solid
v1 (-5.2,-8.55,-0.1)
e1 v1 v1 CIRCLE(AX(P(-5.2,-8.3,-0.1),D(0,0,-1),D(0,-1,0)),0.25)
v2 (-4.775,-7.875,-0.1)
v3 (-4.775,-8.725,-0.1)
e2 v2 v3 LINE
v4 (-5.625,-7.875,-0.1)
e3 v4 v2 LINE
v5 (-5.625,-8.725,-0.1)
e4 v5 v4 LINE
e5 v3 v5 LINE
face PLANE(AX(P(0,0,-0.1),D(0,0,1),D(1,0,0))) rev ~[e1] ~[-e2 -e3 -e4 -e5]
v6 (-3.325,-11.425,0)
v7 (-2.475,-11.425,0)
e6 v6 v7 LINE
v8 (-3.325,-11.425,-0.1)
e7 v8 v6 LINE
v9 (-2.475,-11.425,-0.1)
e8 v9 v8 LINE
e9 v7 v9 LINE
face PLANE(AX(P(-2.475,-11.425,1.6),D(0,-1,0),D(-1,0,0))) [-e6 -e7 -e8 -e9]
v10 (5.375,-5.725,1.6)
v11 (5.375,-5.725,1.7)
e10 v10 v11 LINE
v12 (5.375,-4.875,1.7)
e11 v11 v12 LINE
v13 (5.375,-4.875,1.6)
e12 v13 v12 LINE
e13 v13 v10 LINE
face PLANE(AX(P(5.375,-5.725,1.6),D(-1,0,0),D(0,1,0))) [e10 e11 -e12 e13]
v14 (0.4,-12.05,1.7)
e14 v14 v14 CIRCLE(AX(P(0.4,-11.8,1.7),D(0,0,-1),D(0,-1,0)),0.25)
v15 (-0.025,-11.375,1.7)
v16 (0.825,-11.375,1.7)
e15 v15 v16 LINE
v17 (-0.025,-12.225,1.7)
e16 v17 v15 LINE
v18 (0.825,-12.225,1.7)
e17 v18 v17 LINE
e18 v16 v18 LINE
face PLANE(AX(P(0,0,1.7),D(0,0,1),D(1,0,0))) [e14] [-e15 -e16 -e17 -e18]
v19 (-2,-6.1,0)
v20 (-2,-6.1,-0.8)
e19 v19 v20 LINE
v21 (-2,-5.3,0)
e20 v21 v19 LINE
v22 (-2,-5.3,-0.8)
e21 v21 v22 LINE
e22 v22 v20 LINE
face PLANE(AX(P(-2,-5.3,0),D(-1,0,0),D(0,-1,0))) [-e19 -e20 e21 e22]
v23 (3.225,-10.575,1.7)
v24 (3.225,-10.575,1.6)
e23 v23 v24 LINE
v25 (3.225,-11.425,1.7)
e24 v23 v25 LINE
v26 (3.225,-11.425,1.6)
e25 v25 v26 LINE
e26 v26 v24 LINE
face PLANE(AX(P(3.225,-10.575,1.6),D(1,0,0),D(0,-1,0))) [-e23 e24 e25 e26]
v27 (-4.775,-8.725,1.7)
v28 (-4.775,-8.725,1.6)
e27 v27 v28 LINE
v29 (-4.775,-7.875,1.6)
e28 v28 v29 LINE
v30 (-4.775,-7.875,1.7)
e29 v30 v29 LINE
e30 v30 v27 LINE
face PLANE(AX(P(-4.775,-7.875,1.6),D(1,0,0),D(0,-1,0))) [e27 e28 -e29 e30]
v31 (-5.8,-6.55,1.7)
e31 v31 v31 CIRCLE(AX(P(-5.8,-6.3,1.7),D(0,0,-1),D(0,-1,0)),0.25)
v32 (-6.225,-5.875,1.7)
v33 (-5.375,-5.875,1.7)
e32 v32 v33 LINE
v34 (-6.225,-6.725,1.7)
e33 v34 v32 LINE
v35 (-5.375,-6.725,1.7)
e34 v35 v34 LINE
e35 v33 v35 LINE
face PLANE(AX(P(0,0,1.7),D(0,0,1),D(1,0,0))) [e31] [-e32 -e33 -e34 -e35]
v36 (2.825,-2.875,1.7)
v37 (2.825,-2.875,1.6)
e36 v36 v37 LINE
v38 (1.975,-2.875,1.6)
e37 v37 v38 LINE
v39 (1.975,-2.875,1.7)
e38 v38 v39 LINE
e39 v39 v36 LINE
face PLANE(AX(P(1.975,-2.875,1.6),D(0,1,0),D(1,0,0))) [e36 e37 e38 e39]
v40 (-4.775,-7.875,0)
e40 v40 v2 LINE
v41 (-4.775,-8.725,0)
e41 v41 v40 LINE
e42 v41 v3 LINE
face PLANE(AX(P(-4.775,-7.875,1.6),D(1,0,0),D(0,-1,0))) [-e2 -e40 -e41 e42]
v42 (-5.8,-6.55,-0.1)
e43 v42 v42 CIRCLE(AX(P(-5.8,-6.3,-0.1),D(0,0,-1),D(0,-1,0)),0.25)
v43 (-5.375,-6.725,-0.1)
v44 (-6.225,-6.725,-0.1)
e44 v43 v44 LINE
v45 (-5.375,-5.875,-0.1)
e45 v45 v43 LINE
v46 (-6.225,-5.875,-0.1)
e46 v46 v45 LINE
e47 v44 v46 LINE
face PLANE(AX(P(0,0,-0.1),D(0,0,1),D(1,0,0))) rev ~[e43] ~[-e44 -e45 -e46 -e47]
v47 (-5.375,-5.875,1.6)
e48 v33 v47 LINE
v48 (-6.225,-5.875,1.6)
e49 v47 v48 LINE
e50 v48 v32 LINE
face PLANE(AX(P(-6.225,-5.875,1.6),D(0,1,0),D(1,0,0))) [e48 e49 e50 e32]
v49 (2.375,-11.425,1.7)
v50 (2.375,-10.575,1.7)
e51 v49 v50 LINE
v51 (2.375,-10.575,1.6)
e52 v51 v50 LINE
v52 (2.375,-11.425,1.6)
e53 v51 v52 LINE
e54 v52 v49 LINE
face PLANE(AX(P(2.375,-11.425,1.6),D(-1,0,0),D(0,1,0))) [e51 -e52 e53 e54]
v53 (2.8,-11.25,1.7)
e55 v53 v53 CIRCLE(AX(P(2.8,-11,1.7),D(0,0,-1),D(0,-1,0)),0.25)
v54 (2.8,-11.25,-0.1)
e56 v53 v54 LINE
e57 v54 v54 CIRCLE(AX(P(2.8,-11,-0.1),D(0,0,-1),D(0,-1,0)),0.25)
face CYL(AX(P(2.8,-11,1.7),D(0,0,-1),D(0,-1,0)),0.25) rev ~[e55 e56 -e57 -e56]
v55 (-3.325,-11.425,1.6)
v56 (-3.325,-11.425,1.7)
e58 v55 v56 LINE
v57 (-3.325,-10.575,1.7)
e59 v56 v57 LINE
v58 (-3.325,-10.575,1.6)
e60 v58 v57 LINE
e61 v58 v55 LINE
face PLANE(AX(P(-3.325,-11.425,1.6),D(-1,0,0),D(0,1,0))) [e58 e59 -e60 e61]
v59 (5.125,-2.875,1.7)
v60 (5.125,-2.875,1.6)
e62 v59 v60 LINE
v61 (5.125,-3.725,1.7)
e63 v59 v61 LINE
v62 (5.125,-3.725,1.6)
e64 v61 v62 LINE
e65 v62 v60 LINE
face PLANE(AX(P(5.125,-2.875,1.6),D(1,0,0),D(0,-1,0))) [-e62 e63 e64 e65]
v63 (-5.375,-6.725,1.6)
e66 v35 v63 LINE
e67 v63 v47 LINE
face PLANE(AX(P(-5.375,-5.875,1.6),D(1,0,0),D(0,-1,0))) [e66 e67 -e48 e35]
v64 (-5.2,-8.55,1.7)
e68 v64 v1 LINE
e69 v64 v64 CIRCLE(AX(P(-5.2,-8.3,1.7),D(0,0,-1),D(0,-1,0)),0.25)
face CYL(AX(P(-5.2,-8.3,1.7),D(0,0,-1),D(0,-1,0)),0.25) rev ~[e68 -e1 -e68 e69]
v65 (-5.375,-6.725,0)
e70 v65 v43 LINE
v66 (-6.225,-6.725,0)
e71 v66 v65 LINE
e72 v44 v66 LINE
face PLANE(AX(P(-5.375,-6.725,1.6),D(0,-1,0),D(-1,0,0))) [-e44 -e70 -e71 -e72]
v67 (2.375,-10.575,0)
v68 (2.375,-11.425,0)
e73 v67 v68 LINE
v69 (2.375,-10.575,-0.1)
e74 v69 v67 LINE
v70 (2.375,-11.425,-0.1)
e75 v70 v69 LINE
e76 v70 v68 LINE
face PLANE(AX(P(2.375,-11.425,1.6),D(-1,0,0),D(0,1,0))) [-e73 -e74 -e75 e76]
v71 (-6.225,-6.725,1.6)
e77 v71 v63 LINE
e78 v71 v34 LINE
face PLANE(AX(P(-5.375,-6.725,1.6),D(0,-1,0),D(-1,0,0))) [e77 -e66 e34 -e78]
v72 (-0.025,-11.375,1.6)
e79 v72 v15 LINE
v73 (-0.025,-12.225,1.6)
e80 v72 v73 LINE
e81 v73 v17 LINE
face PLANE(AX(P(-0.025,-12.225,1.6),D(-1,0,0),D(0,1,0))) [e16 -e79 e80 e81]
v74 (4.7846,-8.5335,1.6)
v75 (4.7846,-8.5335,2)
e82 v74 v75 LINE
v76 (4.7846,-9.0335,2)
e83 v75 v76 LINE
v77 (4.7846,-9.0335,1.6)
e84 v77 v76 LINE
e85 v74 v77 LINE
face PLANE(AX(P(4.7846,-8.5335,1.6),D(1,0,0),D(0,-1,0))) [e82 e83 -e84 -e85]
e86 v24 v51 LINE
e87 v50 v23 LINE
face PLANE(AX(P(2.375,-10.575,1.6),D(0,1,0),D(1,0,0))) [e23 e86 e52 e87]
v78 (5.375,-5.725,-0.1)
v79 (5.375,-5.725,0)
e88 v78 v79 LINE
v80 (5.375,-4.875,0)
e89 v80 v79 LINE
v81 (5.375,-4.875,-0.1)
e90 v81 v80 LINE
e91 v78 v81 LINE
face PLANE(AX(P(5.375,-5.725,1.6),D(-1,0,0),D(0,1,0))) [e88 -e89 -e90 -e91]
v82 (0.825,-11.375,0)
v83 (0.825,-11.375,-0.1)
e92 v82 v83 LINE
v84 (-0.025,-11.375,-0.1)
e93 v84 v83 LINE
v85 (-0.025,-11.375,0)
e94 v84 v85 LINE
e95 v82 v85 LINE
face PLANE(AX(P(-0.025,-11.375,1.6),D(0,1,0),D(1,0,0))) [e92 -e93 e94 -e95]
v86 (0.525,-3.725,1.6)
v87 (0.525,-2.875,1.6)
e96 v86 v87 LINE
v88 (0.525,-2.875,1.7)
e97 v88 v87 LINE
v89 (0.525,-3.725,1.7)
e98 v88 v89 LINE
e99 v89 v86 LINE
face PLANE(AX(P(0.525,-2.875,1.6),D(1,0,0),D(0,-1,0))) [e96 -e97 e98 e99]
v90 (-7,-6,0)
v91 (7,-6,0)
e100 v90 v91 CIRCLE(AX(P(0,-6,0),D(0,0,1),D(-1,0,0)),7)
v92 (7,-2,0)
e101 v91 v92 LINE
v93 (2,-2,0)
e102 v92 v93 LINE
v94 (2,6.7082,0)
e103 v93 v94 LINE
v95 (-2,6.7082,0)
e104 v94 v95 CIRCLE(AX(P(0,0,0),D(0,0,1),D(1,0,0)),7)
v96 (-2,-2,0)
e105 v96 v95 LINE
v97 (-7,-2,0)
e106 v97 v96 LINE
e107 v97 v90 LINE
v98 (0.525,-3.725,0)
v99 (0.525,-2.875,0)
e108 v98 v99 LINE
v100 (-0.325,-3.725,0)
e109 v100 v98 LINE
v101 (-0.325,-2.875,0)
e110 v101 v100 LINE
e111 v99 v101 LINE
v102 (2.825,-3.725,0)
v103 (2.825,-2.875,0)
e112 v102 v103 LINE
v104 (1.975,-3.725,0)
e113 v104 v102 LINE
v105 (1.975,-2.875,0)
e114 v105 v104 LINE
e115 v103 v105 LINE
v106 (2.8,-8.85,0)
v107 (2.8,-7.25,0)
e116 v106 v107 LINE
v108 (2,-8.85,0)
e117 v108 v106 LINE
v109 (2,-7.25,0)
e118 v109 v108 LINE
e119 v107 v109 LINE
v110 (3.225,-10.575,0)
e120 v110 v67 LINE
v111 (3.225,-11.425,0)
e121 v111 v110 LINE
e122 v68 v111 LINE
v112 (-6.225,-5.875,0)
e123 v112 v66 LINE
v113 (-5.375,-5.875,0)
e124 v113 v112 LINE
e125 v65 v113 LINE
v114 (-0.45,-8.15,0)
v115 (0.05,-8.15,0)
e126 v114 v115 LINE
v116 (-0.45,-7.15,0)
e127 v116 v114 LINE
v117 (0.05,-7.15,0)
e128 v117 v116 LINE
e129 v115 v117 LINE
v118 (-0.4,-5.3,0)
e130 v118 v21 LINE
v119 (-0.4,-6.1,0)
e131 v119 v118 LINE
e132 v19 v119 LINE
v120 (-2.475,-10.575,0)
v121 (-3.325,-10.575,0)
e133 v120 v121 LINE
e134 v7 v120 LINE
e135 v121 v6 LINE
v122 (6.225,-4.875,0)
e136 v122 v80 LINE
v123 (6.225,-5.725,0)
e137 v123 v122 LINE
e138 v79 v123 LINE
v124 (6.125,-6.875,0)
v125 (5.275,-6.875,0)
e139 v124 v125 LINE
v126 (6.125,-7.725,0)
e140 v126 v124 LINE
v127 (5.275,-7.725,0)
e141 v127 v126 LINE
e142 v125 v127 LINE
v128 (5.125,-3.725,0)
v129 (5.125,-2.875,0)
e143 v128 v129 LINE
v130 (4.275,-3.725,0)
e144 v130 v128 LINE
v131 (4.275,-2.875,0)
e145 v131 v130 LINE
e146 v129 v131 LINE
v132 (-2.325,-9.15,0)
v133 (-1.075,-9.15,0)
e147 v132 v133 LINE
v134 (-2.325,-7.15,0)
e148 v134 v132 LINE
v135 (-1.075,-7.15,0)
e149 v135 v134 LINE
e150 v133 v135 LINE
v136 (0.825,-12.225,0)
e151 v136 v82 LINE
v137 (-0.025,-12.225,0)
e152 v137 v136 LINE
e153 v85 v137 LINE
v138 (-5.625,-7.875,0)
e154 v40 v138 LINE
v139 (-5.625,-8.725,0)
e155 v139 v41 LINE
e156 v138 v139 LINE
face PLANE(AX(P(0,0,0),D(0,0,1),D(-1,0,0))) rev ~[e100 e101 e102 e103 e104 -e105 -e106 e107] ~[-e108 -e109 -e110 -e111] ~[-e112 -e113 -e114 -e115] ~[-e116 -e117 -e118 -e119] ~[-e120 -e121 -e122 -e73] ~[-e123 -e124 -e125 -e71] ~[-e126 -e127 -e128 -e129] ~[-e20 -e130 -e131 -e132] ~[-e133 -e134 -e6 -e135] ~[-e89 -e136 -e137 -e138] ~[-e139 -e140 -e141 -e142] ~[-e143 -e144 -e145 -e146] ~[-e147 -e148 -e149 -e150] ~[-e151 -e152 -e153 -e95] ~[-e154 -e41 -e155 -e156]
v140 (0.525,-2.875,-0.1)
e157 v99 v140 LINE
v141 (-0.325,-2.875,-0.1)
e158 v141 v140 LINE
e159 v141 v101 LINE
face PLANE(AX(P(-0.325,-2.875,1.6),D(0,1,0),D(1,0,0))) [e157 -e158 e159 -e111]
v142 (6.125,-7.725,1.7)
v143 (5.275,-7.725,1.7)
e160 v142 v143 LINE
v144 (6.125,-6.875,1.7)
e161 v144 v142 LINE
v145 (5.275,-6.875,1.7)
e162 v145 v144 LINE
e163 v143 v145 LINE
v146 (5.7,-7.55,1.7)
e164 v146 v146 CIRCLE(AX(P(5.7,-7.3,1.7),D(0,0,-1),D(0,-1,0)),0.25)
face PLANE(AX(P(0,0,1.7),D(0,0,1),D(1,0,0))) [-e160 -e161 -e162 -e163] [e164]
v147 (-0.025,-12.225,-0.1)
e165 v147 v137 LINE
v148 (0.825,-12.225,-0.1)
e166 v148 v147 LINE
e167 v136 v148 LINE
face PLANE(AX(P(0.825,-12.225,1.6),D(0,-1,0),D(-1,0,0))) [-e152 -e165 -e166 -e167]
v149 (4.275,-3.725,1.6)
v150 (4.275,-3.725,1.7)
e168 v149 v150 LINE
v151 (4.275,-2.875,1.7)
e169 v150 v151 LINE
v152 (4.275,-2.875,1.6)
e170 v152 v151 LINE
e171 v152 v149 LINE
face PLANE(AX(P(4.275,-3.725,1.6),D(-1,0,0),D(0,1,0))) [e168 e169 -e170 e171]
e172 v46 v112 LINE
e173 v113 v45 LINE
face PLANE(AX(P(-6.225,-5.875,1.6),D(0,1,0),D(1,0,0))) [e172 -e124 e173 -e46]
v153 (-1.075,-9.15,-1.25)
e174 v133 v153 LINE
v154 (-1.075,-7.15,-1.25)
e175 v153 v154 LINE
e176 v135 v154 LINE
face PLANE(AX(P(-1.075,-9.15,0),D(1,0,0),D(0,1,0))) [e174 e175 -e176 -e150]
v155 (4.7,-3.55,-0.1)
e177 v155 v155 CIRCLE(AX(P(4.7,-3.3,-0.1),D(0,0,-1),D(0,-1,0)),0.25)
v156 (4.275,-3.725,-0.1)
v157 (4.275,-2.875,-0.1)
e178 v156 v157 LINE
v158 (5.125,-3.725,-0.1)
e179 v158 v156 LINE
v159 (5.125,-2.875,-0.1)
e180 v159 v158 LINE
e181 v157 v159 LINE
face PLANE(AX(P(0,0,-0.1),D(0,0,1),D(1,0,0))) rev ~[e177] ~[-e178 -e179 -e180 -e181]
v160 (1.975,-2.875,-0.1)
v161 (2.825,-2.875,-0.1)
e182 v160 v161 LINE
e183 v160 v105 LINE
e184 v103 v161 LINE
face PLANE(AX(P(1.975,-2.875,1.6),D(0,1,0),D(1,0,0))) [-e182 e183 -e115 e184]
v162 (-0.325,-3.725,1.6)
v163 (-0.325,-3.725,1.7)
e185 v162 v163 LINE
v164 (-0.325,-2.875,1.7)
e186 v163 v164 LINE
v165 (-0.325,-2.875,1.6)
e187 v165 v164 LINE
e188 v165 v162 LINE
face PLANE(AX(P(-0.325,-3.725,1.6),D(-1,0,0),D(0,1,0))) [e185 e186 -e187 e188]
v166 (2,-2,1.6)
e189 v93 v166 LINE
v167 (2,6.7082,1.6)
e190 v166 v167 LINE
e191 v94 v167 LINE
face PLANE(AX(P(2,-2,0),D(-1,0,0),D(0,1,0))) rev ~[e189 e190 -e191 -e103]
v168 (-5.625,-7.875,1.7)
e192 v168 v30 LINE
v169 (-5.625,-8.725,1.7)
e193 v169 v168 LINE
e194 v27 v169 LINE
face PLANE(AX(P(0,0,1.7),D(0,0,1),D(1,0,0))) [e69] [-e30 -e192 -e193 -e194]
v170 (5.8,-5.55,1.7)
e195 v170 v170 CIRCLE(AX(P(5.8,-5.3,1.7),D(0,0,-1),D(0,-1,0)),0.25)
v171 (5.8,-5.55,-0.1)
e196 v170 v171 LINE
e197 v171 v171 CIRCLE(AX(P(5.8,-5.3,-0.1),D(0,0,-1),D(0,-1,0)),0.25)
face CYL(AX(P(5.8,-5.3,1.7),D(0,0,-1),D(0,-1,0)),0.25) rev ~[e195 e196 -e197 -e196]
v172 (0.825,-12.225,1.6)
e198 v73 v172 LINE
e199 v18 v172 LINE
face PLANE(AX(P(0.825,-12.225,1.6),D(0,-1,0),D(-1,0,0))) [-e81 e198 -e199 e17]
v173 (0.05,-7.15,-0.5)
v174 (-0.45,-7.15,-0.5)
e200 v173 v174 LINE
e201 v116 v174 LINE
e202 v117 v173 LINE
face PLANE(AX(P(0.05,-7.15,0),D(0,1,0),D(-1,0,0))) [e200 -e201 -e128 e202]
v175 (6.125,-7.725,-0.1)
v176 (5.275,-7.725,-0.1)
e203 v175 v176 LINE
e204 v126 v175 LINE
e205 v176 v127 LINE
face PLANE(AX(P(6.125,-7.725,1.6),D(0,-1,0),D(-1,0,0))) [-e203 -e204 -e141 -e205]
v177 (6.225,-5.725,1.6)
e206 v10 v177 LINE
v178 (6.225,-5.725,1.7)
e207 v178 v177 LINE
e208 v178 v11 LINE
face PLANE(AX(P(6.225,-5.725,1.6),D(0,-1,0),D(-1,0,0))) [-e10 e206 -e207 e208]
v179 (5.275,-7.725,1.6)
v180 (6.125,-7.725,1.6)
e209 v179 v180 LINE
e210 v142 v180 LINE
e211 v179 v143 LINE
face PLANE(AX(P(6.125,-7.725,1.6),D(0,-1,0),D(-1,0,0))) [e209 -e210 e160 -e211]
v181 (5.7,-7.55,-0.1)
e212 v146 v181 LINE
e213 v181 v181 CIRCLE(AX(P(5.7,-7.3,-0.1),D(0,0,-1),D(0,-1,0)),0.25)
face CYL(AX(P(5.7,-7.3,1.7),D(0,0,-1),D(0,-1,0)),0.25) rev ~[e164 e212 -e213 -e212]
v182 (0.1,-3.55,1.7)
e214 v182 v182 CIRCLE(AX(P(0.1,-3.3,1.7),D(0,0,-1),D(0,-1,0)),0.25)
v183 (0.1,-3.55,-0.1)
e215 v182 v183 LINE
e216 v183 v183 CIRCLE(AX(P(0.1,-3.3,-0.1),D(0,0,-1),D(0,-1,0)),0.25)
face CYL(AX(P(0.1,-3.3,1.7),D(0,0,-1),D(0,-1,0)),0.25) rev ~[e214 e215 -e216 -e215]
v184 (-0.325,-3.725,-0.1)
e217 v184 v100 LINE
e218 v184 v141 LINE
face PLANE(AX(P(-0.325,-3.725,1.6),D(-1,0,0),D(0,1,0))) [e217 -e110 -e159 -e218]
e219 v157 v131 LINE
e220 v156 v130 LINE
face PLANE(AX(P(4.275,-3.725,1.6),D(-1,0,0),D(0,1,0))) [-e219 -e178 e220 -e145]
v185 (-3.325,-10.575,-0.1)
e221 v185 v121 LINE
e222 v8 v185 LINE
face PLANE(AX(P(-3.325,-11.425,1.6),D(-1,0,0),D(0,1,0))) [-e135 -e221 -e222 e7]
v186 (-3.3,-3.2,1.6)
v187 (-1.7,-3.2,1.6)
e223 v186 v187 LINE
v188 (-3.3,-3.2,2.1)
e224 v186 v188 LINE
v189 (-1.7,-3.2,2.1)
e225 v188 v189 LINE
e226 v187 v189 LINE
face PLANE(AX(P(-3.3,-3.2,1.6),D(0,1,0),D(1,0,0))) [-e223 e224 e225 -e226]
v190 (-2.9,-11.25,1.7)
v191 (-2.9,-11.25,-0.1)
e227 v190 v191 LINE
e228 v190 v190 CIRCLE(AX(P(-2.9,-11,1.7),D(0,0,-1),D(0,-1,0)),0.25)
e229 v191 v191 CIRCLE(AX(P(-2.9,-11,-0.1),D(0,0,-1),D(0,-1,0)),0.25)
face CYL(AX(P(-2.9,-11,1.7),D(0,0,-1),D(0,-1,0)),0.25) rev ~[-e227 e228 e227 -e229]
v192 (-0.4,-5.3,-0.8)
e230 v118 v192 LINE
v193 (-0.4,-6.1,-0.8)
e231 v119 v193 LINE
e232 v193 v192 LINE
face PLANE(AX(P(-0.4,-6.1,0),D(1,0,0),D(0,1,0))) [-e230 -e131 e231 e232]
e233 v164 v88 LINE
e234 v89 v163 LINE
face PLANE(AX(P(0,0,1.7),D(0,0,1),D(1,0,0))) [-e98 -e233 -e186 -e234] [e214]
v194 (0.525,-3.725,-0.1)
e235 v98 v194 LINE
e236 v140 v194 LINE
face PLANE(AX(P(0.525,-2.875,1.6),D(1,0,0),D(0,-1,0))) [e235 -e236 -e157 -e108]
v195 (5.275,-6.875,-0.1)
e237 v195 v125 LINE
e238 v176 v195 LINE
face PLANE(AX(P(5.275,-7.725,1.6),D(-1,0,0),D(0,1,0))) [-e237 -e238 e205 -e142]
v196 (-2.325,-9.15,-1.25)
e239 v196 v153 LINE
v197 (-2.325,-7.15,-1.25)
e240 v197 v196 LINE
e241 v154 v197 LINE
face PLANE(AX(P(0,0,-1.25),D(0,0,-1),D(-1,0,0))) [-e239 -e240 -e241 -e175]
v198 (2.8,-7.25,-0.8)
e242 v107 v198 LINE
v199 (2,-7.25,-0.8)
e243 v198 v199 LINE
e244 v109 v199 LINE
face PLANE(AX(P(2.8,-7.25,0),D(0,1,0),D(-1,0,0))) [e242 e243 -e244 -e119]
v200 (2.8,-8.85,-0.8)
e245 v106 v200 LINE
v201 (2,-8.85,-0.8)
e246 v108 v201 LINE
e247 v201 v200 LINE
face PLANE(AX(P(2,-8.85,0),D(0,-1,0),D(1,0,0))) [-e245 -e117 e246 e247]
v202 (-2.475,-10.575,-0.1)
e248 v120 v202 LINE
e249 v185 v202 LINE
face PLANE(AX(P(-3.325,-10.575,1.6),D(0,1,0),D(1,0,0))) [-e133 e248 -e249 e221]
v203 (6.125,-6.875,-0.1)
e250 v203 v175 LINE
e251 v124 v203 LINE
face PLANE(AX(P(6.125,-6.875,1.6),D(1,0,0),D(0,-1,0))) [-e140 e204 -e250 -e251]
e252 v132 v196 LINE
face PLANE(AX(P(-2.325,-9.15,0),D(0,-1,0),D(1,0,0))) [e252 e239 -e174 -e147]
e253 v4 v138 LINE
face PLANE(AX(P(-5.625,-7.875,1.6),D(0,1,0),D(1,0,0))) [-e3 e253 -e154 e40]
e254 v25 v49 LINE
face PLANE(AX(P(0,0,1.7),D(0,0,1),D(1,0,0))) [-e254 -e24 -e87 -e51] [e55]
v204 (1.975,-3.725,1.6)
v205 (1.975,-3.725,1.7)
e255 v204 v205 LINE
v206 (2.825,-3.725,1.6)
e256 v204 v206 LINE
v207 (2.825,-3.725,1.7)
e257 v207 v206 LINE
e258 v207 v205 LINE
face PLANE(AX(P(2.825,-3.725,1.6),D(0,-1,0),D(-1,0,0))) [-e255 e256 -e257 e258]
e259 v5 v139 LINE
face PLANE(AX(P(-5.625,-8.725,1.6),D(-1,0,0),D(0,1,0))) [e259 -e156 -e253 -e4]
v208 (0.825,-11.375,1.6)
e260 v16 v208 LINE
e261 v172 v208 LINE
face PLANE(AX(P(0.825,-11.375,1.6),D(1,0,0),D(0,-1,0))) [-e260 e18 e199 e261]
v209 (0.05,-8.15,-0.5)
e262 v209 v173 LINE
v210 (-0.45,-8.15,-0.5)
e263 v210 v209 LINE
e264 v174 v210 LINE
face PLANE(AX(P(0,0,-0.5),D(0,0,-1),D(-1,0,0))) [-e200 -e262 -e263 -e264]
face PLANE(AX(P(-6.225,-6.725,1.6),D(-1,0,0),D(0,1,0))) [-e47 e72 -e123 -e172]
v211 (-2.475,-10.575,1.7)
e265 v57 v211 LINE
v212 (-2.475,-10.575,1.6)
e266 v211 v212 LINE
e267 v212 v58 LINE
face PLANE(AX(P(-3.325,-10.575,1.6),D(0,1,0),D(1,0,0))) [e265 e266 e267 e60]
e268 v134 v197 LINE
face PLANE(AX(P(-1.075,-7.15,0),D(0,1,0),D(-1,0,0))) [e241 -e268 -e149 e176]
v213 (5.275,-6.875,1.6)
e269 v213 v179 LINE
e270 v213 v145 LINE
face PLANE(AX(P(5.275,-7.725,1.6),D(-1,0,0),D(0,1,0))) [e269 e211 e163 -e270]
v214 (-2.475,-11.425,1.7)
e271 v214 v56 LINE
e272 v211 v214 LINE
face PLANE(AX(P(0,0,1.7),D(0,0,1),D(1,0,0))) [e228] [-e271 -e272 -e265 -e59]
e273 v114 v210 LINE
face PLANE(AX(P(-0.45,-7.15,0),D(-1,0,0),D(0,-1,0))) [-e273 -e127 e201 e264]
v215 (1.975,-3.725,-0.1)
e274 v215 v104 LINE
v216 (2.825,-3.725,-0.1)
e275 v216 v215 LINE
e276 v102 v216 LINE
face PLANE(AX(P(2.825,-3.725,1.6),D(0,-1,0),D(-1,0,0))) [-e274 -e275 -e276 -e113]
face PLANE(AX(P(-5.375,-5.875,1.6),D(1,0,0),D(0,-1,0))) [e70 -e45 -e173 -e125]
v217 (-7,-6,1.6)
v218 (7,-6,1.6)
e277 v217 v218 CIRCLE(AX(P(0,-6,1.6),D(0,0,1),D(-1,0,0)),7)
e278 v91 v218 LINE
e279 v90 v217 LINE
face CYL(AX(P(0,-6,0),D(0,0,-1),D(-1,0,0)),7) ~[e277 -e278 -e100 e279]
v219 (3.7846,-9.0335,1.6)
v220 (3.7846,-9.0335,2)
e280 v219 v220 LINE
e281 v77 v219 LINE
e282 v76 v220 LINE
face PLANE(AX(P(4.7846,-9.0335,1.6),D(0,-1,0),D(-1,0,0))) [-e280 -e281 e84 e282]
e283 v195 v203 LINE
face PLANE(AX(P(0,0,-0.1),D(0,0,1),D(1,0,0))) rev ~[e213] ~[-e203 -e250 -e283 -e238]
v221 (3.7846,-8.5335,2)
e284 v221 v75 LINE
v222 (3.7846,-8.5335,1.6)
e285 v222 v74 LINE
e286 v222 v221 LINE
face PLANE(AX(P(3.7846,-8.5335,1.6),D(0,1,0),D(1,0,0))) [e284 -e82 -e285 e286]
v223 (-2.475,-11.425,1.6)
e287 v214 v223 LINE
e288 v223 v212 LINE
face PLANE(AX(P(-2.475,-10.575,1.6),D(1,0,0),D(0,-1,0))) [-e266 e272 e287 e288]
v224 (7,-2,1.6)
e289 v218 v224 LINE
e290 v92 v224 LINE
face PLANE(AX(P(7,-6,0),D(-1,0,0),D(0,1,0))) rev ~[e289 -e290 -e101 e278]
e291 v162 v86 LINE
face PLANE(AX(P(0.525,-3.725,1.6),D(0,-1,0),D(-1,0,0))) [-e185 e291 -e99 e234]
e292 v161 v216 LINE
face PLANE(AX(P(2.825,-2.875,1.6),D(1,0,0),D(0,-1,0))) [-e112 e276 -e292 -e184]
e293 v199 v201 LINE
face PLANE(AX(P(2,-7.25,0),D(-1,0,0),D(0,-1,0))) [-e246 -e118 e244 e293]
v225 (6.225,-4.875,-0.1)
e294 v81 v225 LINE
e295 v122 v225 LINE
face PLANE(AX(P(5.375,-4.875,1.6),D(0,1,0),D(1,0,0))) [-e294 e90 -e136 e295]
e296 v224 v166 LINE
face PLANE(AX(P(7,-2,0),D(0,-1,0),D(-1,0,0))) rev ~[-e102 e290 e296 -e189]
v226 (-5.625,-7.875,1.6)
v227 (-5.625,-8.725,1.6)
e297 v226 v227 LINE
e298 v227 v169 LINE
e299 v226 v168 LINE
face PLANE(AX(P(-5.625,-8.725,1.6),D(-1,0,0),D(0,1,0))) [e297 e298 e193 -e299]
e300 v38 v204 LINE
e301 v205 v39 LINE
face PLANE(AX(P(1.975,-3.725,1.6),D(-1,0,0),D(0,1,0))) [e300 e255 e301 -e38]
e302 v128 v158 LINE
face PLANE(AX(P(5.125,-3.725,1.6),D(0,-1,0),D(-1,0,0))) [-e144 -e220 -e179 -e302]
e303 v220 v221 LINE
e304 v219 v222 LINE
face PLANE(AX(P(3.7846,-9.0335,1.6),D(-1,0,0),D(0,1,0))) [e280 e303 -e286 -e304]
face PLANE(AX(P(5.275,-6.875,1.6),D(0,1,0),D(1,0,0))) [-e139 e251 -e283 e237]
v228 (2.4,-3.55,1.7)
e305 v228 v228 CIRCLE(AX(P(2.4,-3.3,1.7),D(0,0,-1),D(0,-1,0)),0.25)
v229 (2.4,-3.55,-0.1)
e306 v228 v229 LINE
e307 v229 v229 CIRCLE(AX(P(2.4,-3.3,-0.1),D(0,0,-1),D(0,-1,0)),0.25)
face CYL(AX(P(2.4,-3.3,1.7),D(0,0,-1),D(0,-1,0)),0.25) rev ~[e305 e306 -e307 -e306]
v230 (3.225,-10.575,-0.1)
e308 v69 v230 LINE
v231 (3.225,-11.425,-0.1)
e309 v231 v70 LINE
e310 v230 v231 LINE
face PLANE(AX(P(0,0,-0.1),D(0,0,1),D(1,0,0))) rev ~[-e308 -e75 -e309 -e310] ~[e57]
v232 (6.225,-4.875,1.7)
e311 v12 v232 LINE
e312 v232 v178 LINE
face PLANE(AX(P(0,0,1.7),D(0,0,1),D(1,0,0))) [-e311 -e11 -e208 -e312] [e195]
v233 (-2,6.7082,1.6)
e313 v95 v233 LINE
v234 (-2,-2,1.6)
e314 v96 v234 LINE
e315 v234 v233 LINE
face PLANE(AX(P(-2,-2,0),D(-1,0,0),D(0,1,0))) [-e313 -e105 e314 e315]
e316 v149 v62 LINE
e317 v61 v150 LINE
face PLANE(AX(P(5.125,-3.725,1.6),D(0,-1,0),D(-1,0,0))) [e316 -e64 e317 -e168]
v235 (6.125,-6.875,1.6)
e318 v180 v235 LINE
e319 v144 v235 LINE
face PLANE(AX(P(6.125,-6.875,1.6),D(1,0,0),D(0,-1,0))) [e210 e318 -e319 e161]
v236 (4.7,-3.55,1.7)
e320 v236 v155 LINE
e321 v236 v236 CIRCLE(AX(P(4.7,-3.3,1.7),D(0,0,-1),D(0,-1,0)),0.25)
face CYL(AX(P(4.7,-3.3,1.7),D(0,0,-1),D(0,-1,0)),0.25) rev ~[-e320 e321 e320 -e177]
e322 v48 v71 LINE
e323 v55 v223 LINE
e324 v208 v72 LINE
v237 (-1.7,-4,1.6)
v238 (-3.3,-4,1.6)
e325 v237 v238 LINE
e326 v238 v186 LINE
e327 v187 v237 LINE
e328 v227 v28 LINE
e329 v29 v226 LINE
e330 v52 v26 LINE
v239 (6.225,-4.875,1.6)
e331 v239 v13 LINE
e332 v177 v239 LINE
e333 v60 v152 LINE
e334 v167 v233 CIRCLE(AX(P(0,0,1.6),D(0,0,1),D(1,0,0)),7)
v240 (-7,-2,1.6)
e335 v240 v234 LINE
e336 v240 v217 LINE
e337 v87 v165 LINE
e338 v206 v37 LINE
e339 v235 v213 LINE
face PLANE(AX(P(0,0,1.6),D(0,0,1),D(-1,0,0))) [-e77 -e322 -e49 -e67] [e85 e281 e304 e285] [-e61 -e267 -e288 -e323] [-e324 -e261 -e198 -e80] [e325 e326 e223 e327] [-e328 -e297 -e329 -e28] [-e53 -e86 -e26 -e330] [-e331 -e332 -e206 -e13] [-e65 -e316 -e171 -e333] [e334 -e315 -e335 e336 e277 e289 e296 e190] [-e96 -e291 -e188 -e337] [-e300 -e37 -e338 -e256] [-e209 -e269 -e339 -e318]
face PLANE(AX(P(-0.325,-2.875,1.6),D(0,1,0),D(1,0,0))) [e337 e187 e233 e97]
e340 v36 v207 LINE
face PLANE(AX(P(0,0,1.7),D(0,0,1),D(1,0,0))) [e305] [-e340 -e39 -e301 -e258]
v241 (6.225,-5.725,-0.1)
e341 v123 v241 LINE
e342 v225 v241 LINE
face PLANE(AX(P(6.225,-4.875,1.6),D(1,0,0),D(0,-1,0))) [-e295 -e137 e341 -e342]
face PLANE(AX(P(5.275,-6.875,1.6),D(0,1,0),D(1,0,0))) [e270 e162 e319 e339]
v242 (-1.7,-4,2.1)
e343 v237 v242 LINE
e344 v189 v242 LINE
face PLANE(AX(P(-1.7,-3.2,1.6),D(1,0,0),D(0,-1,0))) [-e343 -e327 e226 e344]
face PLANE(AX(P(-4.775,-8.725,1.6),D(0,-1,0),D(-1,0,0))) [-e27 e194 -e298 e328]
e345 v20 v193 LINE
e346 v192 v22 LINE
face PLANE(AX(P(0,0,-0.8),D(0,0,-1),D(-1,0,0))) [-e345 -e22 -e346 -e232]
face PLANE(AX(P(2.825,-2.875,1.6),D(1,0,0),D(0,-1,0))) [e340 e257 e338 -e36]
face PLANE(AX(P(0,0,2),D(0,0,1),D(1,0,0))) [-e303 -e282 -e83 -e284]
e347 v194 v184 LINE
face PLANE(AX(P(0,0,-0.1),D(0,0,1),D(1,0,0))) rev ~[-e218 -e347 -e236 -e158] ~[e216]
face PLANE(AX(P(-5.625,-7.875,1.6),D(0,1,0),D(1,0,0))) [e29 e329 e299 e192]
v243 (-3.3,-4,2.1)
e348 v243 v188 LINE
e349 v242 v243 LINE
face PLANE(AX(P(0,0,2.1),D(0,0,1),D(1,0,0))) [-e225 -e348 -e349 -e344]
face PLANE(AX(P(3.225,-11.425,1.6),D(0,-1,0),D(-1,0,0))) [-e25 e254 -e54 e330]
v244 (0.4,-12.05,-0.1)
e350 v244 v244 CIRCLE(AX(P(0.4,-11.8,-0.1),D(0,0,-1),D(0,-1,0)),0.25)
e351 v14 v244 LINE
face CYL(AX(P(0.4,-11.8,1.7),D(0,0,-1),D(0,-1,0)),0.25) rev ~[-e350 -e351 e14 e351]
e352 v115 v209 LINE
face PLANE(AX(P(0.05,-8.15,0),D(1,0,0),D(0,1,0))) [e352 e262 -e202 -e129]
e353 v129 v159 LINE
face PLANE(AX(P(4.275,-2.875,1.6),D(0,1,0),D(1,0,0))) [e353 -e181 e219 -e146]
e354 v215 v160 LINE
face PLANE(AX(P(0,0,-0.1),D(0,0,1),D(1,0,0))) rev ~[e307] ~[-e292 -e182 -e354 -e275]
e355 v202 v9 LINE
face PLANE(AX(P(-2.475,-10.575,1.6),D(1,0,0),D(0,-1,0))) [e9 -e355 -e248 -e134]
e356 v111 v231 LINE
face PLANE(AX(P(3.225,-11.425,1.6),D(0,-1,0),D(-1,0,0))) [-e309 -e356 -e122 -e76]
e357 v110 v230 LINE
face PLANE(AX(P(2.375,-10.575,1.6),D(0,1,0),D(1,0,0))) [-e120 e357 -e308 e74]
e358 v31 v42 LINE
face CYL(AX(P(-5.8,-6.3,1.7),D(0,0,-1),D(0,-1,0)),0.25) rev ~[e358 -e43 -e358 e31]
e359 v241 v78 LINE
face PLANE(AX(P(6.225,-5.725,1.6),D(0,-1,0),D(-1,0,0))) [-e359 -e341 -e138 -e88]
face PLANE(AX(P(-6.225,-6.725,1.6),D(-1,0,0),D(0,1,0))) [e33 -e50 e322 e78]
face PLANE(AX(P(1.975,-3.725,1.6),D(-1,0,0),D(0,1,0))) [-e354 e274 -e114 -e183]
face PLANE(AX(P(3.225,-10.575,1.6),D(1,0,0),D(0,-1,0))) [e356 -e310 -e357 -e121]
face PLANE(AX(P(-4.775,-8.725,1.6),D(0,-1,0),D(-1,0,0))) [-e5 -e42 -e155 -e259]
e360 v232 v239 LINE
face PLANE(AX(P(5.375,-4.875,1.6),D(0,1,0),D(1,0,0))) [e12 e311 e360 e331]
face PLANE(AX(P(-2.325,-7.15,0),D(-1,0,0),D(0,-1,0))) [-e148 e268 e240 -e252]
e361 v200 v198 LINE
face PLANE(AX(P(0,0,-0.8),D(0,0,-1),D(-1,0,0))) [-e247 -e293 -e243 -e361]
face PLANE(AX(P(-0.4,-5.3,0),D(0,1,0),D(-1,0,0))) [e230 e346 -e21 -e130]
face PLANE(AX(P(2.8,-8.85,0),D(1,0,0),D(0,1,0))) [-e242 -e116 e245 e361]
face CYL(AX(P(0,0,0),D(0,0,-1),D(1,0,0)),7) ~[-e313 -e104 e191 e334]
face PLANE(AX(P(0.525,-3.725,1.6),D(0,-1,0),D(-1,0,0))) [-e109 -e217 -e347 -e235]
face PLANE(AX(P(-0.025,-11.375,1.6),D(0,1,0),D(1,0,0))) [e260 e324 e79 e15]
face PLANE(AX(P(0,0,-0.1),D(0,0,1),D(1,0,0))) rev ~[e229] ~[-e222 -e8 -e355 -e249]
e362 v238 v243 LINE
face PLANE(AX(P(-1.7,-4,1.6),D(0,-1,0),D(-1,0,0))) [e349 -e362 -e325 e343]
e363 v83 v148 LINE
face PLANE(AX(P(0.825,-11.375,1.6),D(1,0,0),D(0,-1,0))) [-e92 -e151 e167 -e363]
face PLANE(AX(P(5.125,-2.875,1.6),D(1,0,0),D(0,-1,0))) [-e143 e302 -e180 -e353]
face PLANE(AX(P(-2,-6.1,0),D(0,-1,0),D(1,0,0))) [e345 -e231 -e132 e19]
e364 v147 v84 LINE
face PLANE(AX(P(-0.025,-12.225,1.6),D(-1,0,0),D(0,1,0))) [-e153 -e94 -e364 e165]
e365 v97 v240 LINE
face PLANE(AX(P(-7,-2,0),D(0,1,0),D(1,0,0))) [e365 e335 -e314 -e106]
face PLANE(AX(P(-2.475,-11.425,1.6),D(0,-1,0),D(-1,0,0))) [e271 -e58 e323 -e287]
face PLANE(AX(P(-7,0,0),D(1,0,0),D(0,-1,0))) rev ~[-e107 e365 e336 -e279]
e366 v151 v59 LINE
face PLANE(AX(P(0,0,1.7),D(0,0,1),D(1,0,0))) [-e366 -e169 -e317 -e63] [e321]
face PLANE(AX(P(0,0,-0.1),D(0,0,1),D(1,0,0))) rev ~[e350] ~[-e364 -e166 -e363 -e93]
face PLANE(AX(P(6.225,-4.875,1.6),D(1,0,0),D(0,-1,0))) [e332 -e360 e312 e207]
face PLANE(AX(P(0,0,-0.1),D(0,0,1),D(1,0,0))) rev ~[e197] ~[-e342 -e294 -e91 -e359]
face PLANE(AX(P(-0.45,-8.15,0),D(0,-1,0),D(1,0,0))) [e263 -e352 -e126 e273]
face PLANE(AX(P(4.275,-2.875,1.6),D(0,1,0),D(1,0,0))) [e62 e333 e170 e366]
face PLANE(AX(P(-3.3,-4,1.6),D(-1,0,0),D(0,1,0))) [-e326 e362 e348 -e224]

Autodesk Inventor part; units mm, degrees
ref_plane "YZ Plane" through (0, 0, 0) normal (1, 0, 0) x (0, 1, 0)
ref_plane "XZ Plane" through (0, 0, 0) normal (0, 1, 0) x (-1, 0, 0)
ref_plane "XY Plane" through (0, 0, 0) normal (0, 0, 1) x (1, 0, 0)
sketch "Sketch1" plane through (0, 0, 0) normal (0, 0, 1) x (-1, 0, 0)
  line L0 (0, 0) -> (0, 6) construction
  line L1 (7, 0) -> (7, 6)
  line L2 (-7, 6) -> (-7, 0)
  arc A0 (-7, 0) -> (7, 0) centre (0, 0) ccw
  arc A1 (7, 6) -> (-7, 6) centre (0, 6) ccw
  point P0 (0, 3)
  dimension "d4" = 6
  dimension "d5" = 14
extrude "Extrusion1" add sketch "Sketch1" along normal blind 1.6
sketch "Sketch2" plane through (0, 0, 0) normal (0, 0, -1) x (-1, 0, 0)
  line L0 (-7, -6) -> (-7, 0) projected
  line L1 (-7, -2) -> (-2, -2)
  line L2 (-2, -2) -> (-2, 6.7082)
  arc A0 (7, 0) -> (-7, 0) centre (0, 0) ccw projected
  line L3 (7, -2) -> (2, -2)
  line L4 (2, -2) -> (2, 6.7082)
  line L5 (7, 0) -> (7, -6) projected
  line L6 (0, -17) -> (0, 11) construction
  line L7 (-9.8, 0) -> (9.8, 0) construction
  dimension "d6" = 4
  dimension "d7" = 2
extrude "Extrusion2" cut sketch "Sketch2" against normal up to surface (1.6 mm away)
sketch "Sketch5" plane through (0, 0, 1.6) normal (0, 0, 1) x (1, 0, 0)
  line L0 (-0.325, -2.875) -> (0.525, -2.875)
  line L1 (0.525, -2.875) -> (0.525, -3.725)
  line L2 (0.525, -3.725) -> (-0.325, -3.725)
  line L3 (-0.325, -3.725) -> (-0.325, -2.875)
  line L4 (1.975, -2.875) -> (2.825, -2.875)
  line L5 (2.825, -2.875) -> (2.825, -3.725)
  line L6 (2.825, -3.725) -> (1.975, -3.725)
  line L7 (1.975, -3.725) -> (1.975, -2.875)
  line L8 (4.275, -2.875) -> (5.125, -2.875)
  line L9 (5.125, -2.875) -> (5.125, -3.725)
  line L10 (5.125, -3.725) -> (4.275, -3.725)
  line L11 (4.275, -3.725) -> (4.275, -2.875)
  line L12 (5.375, -4.875) -> (6.225, -4.875)
  line L13 (6.225, -4.875) -> (6.225, -5.725)
  line L14 (6.225, -5.725) -> (5.375, -5.725)
  line L15 (5.375, -5.725) -> (5.375, -4.875)
  line L16 (5.275, -6.875) -> (6.125, -6.875)
  line L17 (6.125, -6.875) -> (6.125, -7.725)
  line L18 (6.125, -7.725) -> (5.275, -7.725)
  line L19 (5.275, -7.725) -> (5.275, -6.875)
  line L20 (2.375, -10.575) -> (3.225, -10.575)
  line L21 (3.225, -10.575) -> (3.225, -11.425)
  line L22 (3.225, -11.425) -> (2.375, -11.425)
  line L23 (2.375, -11.425) -> (2.375, -10.575)
  line L24 (-0.025, -11.375) -> (0.825, -11.375)
  line L25 (0.825, -11.375) -> (0.825, -12.225)
  line L26 (0.825, -12.225) -> (-0.025, -12.225)
  line L27 (-0.025, -12.225) -> (-0.025, -11.375)
  line L28 (-3.325, -10.575) -> (-2.475, -10.575)
  line L29 (-2.475, -10.575) -> (-2.475, -11.425)
  line L30 (-2.475, -11.425) -> (-3.325, -11.425)
  line L31 (-3.325, -11.425) -> (-3.325, -10.575)
  line L32 (-5.625, -7.875) -> (-4.775, -7.875)
  line L33 (-4.775, -7.875) -> (-4.775, -8.725)
  line L34 (-4.775, -8.725) -> (-5.625, -8.725)
  line L35 (-5.625, -8.725) -> (-5.625, -7.875)
  line L36 (-6.225, -5.875) -> (-5.375, -5.875)
  line L37 (-5.375, -5.875) -> (-5.375, -6.725)
  line L38 (-5.375, -6.725) -> (-6.225, -6.725)
  line L39 (-6.225, -6.725) -> (-6.225, -5.875)
  line L40 (7, -6) -> (7, -2) projected
  line L41 (7, -2) -> (2, -2) projected
  point P0 (0, 0)
  point P1 (4.7, -2.875)
  point P2 (5.125, -3.3)
  dimension "d22" = 0.85
  dimension "d23" = 0.85
  dimension "d24" = 0.85
  dimension "d25" = 0.85
  dimension "d26" = 0.85
  dimension "d27" = 0.85
  dimension "d28" = 0.85
  dimension "d29" = 0.85
  dimension "d30" = 0.85
  dimension "d31" = 0.85
  dimension "d32" = 0.85
  dimension "d33" = 0.85
  dimension "d34" = 0.85
  dimension "d35" = 0.85
  dimension "d36" = 0.85
  dimension "d37" = 0.85
  dimension "d38" = 0.85
  dimension "d39" = 0.85
  dimension "d40" = 0.85
  dimension "d41" = 0.85
  dimension "d42" = 2.3
  dimension "d43" = 2.3
  dimension "d44" = 2
  dimension "d45" = 2
  dimension "d46" = 0.8
  dimension "d47" = 2.4
  dimension "d48" = 0.1
  dimension "d49" = 2.3
  dimension "d50" = 1.3
  dimension "d51" = 1.1
  dimension "d52" = 2.9
  dimension "d53" = 3.7
  dimension "d54" = 0.8
  dimension "d55" = 3.3
  dimension "d56" = 2.3
  dimension "d57" = 2.7
  dimension "d58" = 0.6
  dimension "d59" = 2
extrude "Extrusion5" add sketch "Sketch5" along normal blind 0.1 and the other way blind 1.7
sketch "Sketch6" plane through (0, 0, 1.7) normal (0, 0, 1) x (1, 0, 0)
  line L0 (0.525, -2.875) -> (-0.325, -2.875) projected
  line L1 (2.825, -2.875) -> (1.975, -2.875) projected
  line L2 (5.125, -2.875) -> (4.275, -2.875) projected
  line L3 (6.225, -4.875) -> (5.375, -4.875) projected
  line L4 (6.125, -6.875) -> (5.275, -6.875) projected
  line L5 (3.225, -10.575) -> (2.375, -10.575) projected
  line L6 (0.825, -11.375) -> (-0.025, -11.375) projected
  line L7 (-2.475, -10.575) -> (-3.325, -10.575) projected
  line L8 (-4.775, -7.875) -> (-5.625, -7.875) projected
  line L9 (-5.375, -5.875) -> (-6.225, -5.875) projected
  line L10 (-6.225, -5.875) -> (-6.225, -6.725) projected
  line L11 (-5.625, -7.875) -> (-5.625, -8.725) projected
  line L12 (-3.325, -10.575) -> (-3.325, -11.425) projected
  line L13 (-0.025, -11.375) -> (-0.025, -12.225) projected
  line L14 (2.375, -10.575) -> (2.375, -11.425) projected
  line L15 (5.275, -6.875) -> (5.275, -7.725) projected
  line L16 (5.375, -4.875) -> (5.375, -5.725) projected
  line L17 (4.275, -2.875) -> (4.275, -3.725) projected
  point P0 (0, 0)
  point P1 (0.1, -3.3)
  point P2 (2.4, -3.3)
  point P3 (4.7, -3.3)
  point P4 (5.8, -5.3)
  point P5 (5.7, -7.3)
  point P6 (2.8, -11)
  point P7 (0.4, -11.8)
  point P8 (-2.9, -11)
  point P9 (-5.2, -8.3)
  point P10 (-5.8, -6.3)
  point P11 (0.1, -2.875)
  point P12 (2.4, -2.875)
  point P13 (4.7, -2.875)
  point P14 (5.8, -4.875)
  point P15 (5.7, -6.875)
  point P16 (2.8, -10.575)
  point P17 (0.4, -11.375)
  point P18 (-2.9, -10.575)
  point P19 (-5.2, -7.875)
  point P20 (-5.8, -5.875)
  point P21 (-6.225, -6.3)
  point P22 (-5.625, -8.3)
  point P23 (-3.325, -11)
  point P24 (-0.025, -11.8)
  point P25 (2.375, -11)
  point P26 (5.275, -7.3)
  point P27 (5.375, -5.3)
  point P28 (4.275, -3.3)
hole "Hole1" at (0.1, -3.3, 1.7) at (2.4, -3.3, 1.7) at (4.7, -3.3, 1.7) at (5.8, -5.3, 1.7) at (5.7, -7.3, 1.7) at (2.8, -11, 1.7) at (0.4, -11.8, 1.7) at (-2.9, -11, 1.7) at (-5.2, -8.3, 1.7) at (-5.8, -6.3, 1.7) direction (0, 0, -1) diameter 0.5 end through all
sketch "sketch3" plane through (0, 0, 1.6) normal (0, 0, 1) x (1, 0, 0)
  line L0 (-3.3, -3.2) -> (-1.7, -3.2)
  line L1 (-1.7, -3.2) -> (-1.7, -4)
  line L2 (-1.7, -4) -> (-3.3, -4)
  line L3 (-3.3, -4) -> (-3.3, -3.2)
  line L4 (-7, -2) -> (-7, -6) projected
  line L5 (-2, -2) -> (-7, -2) projected
  point P0 (0, 0)
  point P1 (-7, -4)
  point P2 (-2.5, -3.2)
  point P3 (-5, -2)
  point P4 (-3.3, -3.6)
  dimension "d12" = 1.6
  dimension "d13" = 0.8
  dimension "d20" = 4.5
  dimension "d21" = 1.6
extrude "front 0603 res" add sketch "sketch3" along normal blind 0.5
sketch "Sketch4" plane through (0, 0, 1.6) normal (0, 0, 1) x (1, 0, 0)
  line L0 (3.7846, -8.5335) -> (4.7846, -8.5335)
  line L1 (4.7846, -8.5335) -> (4.7846, -9.0335)
  line L2 (4.7846, -9.0335) -> (3.7846, -9.0335)
  line L3 (3.7846, -9.0335) -> (3.7846, -8.5335)
  point P0 (0, 0)
  dimension "d16" = 1
  dimension "d17" = 0.5
extrude "front 0402 res" add sketch "Sketch4" along normal blind 0.4
sketch "Sketch7" plane through (0, 0, 0) normal (0, 0, -1) x (-1, 0, 0)
  line L0 (1.075, -7.15) -> (2.325, -7.15)
  line L1 (2.325, -7.15) -> (2.325, -9.15)
  line L2 (2.325, -9.15) -> (1.075, -9.15)
  line L3 (1.075, -9.15) -> (1.075, -7.15)
  line L4 (7, -2) -> (7, -6) projected
  arc A0 (-7, -6) -> (7, -6) centre (0, -6) ccw projected
  point P0 (0, 0)
  point P1 (1.7, -7.15)
  point P2 (0, -13)
  point P3 (2.325, -8.15)
  dimension "d71" = 1.25
  dimension "d72" = 2
  dimension "d73" = 5.3
  dimension "d74" = 4.85
extrude "back 0805 cap" add sketch "Sketch7" along normal blind 1.25
sketch "Sketch8" plane through (0, 0, 0) normal (0, 0, -1) x (-1, 0, 0)
  line L0 (0.4, -5.3) -> (2, -5.3)
  line L1 (2, -5.3) -> (2, -6.1)
  line L2 (2, -6.1) -> (0.4, -6.1)
  line L3 (0.4, -6.1) -> (0.4, -5.3)
  line L4 (7, -2) -> (7, -6) projected
  line L5 (7, -2) -> (2, -2) projected
  point P0 (0, 0)
  point P1 (1.2, -5.3)
  point P2 (2, -5.7)
  dimension "d77" = 1.6
  dimension "d78" = 0.8
  dimension "d79" = 5.8
  dimension "d80" = 3.7
extrude "back 0603 cap" add sketch "Sketch8" along normal blind 0.8
sketch "Sketch9" plane through (0, 0, 0) normal (0, 0, -1) x (-1, 0, 0)
  line L0 (-0.05, -7.15) -> (0.45, -7.15)
  line L1 (0.45, -7.15) -> (0.45, -8.15)
  line L2 (0.45, -8.15) -> (-0.05, -8.15)
  line L3 (-0.05, -8.15) -> (-0.05, -7.15)
  line L4 (1.075, -9.15) -> (2.325, -9.15) projected
  line L5 (1.075, -7.15) -> (1.075, -9.15) projected
  point P0 (0, 0)
  point P1 (1.7, -9.15)
  point P2 (0.2, -8.15)
  point P3 (0.45, -7.65)
  point P4 (1.075, -8.15)
  dimension "d83" = 0.5
  dimension "d84" = 1
  dimension "d85" = 1.5
  dimension "d86" = 0.5
extrude "back 0402 cap" add sketch "Sketch9" along normal blind 0.5
sketch "Sketch10" plane through (0, 0, 0) normal (0, 0, -1) x (-1, 0, 0)
  line L0 (-2.8, -7.25) -> (-2, -7.25)
  line L1 (-2, -7.25) -> (-2, -8.85)
  line L2 (-2, -8.85) -> (-2.8, -8.85)
  line L3 (-2.8, -8.85) -> (-2.8, -7.25)
  line L4 (0.45, -7.15) -> (-0.05, -7.15) projected
  line L5 (-0.05, -7.15) -> (-0.05, -8.15) projected
  point P0 (0, 0)
  point P1 (0.2, -7.15)
  point P2 (-2.4, -7.25)
  point P3 (0.2, -7.15)
  point P4 (-0.05, -7.65)
  point P5 (-2, -8.05)
  dimension "d89" = 0.8
  dimension "d90" = 1.6
  dimension "d92" = 2.6
  dimension "d93" = 0.4
extrude "back 0603 res" add sketch "Sketch10" along normal blind 0.8
properties part number "Sensor_PCB"
